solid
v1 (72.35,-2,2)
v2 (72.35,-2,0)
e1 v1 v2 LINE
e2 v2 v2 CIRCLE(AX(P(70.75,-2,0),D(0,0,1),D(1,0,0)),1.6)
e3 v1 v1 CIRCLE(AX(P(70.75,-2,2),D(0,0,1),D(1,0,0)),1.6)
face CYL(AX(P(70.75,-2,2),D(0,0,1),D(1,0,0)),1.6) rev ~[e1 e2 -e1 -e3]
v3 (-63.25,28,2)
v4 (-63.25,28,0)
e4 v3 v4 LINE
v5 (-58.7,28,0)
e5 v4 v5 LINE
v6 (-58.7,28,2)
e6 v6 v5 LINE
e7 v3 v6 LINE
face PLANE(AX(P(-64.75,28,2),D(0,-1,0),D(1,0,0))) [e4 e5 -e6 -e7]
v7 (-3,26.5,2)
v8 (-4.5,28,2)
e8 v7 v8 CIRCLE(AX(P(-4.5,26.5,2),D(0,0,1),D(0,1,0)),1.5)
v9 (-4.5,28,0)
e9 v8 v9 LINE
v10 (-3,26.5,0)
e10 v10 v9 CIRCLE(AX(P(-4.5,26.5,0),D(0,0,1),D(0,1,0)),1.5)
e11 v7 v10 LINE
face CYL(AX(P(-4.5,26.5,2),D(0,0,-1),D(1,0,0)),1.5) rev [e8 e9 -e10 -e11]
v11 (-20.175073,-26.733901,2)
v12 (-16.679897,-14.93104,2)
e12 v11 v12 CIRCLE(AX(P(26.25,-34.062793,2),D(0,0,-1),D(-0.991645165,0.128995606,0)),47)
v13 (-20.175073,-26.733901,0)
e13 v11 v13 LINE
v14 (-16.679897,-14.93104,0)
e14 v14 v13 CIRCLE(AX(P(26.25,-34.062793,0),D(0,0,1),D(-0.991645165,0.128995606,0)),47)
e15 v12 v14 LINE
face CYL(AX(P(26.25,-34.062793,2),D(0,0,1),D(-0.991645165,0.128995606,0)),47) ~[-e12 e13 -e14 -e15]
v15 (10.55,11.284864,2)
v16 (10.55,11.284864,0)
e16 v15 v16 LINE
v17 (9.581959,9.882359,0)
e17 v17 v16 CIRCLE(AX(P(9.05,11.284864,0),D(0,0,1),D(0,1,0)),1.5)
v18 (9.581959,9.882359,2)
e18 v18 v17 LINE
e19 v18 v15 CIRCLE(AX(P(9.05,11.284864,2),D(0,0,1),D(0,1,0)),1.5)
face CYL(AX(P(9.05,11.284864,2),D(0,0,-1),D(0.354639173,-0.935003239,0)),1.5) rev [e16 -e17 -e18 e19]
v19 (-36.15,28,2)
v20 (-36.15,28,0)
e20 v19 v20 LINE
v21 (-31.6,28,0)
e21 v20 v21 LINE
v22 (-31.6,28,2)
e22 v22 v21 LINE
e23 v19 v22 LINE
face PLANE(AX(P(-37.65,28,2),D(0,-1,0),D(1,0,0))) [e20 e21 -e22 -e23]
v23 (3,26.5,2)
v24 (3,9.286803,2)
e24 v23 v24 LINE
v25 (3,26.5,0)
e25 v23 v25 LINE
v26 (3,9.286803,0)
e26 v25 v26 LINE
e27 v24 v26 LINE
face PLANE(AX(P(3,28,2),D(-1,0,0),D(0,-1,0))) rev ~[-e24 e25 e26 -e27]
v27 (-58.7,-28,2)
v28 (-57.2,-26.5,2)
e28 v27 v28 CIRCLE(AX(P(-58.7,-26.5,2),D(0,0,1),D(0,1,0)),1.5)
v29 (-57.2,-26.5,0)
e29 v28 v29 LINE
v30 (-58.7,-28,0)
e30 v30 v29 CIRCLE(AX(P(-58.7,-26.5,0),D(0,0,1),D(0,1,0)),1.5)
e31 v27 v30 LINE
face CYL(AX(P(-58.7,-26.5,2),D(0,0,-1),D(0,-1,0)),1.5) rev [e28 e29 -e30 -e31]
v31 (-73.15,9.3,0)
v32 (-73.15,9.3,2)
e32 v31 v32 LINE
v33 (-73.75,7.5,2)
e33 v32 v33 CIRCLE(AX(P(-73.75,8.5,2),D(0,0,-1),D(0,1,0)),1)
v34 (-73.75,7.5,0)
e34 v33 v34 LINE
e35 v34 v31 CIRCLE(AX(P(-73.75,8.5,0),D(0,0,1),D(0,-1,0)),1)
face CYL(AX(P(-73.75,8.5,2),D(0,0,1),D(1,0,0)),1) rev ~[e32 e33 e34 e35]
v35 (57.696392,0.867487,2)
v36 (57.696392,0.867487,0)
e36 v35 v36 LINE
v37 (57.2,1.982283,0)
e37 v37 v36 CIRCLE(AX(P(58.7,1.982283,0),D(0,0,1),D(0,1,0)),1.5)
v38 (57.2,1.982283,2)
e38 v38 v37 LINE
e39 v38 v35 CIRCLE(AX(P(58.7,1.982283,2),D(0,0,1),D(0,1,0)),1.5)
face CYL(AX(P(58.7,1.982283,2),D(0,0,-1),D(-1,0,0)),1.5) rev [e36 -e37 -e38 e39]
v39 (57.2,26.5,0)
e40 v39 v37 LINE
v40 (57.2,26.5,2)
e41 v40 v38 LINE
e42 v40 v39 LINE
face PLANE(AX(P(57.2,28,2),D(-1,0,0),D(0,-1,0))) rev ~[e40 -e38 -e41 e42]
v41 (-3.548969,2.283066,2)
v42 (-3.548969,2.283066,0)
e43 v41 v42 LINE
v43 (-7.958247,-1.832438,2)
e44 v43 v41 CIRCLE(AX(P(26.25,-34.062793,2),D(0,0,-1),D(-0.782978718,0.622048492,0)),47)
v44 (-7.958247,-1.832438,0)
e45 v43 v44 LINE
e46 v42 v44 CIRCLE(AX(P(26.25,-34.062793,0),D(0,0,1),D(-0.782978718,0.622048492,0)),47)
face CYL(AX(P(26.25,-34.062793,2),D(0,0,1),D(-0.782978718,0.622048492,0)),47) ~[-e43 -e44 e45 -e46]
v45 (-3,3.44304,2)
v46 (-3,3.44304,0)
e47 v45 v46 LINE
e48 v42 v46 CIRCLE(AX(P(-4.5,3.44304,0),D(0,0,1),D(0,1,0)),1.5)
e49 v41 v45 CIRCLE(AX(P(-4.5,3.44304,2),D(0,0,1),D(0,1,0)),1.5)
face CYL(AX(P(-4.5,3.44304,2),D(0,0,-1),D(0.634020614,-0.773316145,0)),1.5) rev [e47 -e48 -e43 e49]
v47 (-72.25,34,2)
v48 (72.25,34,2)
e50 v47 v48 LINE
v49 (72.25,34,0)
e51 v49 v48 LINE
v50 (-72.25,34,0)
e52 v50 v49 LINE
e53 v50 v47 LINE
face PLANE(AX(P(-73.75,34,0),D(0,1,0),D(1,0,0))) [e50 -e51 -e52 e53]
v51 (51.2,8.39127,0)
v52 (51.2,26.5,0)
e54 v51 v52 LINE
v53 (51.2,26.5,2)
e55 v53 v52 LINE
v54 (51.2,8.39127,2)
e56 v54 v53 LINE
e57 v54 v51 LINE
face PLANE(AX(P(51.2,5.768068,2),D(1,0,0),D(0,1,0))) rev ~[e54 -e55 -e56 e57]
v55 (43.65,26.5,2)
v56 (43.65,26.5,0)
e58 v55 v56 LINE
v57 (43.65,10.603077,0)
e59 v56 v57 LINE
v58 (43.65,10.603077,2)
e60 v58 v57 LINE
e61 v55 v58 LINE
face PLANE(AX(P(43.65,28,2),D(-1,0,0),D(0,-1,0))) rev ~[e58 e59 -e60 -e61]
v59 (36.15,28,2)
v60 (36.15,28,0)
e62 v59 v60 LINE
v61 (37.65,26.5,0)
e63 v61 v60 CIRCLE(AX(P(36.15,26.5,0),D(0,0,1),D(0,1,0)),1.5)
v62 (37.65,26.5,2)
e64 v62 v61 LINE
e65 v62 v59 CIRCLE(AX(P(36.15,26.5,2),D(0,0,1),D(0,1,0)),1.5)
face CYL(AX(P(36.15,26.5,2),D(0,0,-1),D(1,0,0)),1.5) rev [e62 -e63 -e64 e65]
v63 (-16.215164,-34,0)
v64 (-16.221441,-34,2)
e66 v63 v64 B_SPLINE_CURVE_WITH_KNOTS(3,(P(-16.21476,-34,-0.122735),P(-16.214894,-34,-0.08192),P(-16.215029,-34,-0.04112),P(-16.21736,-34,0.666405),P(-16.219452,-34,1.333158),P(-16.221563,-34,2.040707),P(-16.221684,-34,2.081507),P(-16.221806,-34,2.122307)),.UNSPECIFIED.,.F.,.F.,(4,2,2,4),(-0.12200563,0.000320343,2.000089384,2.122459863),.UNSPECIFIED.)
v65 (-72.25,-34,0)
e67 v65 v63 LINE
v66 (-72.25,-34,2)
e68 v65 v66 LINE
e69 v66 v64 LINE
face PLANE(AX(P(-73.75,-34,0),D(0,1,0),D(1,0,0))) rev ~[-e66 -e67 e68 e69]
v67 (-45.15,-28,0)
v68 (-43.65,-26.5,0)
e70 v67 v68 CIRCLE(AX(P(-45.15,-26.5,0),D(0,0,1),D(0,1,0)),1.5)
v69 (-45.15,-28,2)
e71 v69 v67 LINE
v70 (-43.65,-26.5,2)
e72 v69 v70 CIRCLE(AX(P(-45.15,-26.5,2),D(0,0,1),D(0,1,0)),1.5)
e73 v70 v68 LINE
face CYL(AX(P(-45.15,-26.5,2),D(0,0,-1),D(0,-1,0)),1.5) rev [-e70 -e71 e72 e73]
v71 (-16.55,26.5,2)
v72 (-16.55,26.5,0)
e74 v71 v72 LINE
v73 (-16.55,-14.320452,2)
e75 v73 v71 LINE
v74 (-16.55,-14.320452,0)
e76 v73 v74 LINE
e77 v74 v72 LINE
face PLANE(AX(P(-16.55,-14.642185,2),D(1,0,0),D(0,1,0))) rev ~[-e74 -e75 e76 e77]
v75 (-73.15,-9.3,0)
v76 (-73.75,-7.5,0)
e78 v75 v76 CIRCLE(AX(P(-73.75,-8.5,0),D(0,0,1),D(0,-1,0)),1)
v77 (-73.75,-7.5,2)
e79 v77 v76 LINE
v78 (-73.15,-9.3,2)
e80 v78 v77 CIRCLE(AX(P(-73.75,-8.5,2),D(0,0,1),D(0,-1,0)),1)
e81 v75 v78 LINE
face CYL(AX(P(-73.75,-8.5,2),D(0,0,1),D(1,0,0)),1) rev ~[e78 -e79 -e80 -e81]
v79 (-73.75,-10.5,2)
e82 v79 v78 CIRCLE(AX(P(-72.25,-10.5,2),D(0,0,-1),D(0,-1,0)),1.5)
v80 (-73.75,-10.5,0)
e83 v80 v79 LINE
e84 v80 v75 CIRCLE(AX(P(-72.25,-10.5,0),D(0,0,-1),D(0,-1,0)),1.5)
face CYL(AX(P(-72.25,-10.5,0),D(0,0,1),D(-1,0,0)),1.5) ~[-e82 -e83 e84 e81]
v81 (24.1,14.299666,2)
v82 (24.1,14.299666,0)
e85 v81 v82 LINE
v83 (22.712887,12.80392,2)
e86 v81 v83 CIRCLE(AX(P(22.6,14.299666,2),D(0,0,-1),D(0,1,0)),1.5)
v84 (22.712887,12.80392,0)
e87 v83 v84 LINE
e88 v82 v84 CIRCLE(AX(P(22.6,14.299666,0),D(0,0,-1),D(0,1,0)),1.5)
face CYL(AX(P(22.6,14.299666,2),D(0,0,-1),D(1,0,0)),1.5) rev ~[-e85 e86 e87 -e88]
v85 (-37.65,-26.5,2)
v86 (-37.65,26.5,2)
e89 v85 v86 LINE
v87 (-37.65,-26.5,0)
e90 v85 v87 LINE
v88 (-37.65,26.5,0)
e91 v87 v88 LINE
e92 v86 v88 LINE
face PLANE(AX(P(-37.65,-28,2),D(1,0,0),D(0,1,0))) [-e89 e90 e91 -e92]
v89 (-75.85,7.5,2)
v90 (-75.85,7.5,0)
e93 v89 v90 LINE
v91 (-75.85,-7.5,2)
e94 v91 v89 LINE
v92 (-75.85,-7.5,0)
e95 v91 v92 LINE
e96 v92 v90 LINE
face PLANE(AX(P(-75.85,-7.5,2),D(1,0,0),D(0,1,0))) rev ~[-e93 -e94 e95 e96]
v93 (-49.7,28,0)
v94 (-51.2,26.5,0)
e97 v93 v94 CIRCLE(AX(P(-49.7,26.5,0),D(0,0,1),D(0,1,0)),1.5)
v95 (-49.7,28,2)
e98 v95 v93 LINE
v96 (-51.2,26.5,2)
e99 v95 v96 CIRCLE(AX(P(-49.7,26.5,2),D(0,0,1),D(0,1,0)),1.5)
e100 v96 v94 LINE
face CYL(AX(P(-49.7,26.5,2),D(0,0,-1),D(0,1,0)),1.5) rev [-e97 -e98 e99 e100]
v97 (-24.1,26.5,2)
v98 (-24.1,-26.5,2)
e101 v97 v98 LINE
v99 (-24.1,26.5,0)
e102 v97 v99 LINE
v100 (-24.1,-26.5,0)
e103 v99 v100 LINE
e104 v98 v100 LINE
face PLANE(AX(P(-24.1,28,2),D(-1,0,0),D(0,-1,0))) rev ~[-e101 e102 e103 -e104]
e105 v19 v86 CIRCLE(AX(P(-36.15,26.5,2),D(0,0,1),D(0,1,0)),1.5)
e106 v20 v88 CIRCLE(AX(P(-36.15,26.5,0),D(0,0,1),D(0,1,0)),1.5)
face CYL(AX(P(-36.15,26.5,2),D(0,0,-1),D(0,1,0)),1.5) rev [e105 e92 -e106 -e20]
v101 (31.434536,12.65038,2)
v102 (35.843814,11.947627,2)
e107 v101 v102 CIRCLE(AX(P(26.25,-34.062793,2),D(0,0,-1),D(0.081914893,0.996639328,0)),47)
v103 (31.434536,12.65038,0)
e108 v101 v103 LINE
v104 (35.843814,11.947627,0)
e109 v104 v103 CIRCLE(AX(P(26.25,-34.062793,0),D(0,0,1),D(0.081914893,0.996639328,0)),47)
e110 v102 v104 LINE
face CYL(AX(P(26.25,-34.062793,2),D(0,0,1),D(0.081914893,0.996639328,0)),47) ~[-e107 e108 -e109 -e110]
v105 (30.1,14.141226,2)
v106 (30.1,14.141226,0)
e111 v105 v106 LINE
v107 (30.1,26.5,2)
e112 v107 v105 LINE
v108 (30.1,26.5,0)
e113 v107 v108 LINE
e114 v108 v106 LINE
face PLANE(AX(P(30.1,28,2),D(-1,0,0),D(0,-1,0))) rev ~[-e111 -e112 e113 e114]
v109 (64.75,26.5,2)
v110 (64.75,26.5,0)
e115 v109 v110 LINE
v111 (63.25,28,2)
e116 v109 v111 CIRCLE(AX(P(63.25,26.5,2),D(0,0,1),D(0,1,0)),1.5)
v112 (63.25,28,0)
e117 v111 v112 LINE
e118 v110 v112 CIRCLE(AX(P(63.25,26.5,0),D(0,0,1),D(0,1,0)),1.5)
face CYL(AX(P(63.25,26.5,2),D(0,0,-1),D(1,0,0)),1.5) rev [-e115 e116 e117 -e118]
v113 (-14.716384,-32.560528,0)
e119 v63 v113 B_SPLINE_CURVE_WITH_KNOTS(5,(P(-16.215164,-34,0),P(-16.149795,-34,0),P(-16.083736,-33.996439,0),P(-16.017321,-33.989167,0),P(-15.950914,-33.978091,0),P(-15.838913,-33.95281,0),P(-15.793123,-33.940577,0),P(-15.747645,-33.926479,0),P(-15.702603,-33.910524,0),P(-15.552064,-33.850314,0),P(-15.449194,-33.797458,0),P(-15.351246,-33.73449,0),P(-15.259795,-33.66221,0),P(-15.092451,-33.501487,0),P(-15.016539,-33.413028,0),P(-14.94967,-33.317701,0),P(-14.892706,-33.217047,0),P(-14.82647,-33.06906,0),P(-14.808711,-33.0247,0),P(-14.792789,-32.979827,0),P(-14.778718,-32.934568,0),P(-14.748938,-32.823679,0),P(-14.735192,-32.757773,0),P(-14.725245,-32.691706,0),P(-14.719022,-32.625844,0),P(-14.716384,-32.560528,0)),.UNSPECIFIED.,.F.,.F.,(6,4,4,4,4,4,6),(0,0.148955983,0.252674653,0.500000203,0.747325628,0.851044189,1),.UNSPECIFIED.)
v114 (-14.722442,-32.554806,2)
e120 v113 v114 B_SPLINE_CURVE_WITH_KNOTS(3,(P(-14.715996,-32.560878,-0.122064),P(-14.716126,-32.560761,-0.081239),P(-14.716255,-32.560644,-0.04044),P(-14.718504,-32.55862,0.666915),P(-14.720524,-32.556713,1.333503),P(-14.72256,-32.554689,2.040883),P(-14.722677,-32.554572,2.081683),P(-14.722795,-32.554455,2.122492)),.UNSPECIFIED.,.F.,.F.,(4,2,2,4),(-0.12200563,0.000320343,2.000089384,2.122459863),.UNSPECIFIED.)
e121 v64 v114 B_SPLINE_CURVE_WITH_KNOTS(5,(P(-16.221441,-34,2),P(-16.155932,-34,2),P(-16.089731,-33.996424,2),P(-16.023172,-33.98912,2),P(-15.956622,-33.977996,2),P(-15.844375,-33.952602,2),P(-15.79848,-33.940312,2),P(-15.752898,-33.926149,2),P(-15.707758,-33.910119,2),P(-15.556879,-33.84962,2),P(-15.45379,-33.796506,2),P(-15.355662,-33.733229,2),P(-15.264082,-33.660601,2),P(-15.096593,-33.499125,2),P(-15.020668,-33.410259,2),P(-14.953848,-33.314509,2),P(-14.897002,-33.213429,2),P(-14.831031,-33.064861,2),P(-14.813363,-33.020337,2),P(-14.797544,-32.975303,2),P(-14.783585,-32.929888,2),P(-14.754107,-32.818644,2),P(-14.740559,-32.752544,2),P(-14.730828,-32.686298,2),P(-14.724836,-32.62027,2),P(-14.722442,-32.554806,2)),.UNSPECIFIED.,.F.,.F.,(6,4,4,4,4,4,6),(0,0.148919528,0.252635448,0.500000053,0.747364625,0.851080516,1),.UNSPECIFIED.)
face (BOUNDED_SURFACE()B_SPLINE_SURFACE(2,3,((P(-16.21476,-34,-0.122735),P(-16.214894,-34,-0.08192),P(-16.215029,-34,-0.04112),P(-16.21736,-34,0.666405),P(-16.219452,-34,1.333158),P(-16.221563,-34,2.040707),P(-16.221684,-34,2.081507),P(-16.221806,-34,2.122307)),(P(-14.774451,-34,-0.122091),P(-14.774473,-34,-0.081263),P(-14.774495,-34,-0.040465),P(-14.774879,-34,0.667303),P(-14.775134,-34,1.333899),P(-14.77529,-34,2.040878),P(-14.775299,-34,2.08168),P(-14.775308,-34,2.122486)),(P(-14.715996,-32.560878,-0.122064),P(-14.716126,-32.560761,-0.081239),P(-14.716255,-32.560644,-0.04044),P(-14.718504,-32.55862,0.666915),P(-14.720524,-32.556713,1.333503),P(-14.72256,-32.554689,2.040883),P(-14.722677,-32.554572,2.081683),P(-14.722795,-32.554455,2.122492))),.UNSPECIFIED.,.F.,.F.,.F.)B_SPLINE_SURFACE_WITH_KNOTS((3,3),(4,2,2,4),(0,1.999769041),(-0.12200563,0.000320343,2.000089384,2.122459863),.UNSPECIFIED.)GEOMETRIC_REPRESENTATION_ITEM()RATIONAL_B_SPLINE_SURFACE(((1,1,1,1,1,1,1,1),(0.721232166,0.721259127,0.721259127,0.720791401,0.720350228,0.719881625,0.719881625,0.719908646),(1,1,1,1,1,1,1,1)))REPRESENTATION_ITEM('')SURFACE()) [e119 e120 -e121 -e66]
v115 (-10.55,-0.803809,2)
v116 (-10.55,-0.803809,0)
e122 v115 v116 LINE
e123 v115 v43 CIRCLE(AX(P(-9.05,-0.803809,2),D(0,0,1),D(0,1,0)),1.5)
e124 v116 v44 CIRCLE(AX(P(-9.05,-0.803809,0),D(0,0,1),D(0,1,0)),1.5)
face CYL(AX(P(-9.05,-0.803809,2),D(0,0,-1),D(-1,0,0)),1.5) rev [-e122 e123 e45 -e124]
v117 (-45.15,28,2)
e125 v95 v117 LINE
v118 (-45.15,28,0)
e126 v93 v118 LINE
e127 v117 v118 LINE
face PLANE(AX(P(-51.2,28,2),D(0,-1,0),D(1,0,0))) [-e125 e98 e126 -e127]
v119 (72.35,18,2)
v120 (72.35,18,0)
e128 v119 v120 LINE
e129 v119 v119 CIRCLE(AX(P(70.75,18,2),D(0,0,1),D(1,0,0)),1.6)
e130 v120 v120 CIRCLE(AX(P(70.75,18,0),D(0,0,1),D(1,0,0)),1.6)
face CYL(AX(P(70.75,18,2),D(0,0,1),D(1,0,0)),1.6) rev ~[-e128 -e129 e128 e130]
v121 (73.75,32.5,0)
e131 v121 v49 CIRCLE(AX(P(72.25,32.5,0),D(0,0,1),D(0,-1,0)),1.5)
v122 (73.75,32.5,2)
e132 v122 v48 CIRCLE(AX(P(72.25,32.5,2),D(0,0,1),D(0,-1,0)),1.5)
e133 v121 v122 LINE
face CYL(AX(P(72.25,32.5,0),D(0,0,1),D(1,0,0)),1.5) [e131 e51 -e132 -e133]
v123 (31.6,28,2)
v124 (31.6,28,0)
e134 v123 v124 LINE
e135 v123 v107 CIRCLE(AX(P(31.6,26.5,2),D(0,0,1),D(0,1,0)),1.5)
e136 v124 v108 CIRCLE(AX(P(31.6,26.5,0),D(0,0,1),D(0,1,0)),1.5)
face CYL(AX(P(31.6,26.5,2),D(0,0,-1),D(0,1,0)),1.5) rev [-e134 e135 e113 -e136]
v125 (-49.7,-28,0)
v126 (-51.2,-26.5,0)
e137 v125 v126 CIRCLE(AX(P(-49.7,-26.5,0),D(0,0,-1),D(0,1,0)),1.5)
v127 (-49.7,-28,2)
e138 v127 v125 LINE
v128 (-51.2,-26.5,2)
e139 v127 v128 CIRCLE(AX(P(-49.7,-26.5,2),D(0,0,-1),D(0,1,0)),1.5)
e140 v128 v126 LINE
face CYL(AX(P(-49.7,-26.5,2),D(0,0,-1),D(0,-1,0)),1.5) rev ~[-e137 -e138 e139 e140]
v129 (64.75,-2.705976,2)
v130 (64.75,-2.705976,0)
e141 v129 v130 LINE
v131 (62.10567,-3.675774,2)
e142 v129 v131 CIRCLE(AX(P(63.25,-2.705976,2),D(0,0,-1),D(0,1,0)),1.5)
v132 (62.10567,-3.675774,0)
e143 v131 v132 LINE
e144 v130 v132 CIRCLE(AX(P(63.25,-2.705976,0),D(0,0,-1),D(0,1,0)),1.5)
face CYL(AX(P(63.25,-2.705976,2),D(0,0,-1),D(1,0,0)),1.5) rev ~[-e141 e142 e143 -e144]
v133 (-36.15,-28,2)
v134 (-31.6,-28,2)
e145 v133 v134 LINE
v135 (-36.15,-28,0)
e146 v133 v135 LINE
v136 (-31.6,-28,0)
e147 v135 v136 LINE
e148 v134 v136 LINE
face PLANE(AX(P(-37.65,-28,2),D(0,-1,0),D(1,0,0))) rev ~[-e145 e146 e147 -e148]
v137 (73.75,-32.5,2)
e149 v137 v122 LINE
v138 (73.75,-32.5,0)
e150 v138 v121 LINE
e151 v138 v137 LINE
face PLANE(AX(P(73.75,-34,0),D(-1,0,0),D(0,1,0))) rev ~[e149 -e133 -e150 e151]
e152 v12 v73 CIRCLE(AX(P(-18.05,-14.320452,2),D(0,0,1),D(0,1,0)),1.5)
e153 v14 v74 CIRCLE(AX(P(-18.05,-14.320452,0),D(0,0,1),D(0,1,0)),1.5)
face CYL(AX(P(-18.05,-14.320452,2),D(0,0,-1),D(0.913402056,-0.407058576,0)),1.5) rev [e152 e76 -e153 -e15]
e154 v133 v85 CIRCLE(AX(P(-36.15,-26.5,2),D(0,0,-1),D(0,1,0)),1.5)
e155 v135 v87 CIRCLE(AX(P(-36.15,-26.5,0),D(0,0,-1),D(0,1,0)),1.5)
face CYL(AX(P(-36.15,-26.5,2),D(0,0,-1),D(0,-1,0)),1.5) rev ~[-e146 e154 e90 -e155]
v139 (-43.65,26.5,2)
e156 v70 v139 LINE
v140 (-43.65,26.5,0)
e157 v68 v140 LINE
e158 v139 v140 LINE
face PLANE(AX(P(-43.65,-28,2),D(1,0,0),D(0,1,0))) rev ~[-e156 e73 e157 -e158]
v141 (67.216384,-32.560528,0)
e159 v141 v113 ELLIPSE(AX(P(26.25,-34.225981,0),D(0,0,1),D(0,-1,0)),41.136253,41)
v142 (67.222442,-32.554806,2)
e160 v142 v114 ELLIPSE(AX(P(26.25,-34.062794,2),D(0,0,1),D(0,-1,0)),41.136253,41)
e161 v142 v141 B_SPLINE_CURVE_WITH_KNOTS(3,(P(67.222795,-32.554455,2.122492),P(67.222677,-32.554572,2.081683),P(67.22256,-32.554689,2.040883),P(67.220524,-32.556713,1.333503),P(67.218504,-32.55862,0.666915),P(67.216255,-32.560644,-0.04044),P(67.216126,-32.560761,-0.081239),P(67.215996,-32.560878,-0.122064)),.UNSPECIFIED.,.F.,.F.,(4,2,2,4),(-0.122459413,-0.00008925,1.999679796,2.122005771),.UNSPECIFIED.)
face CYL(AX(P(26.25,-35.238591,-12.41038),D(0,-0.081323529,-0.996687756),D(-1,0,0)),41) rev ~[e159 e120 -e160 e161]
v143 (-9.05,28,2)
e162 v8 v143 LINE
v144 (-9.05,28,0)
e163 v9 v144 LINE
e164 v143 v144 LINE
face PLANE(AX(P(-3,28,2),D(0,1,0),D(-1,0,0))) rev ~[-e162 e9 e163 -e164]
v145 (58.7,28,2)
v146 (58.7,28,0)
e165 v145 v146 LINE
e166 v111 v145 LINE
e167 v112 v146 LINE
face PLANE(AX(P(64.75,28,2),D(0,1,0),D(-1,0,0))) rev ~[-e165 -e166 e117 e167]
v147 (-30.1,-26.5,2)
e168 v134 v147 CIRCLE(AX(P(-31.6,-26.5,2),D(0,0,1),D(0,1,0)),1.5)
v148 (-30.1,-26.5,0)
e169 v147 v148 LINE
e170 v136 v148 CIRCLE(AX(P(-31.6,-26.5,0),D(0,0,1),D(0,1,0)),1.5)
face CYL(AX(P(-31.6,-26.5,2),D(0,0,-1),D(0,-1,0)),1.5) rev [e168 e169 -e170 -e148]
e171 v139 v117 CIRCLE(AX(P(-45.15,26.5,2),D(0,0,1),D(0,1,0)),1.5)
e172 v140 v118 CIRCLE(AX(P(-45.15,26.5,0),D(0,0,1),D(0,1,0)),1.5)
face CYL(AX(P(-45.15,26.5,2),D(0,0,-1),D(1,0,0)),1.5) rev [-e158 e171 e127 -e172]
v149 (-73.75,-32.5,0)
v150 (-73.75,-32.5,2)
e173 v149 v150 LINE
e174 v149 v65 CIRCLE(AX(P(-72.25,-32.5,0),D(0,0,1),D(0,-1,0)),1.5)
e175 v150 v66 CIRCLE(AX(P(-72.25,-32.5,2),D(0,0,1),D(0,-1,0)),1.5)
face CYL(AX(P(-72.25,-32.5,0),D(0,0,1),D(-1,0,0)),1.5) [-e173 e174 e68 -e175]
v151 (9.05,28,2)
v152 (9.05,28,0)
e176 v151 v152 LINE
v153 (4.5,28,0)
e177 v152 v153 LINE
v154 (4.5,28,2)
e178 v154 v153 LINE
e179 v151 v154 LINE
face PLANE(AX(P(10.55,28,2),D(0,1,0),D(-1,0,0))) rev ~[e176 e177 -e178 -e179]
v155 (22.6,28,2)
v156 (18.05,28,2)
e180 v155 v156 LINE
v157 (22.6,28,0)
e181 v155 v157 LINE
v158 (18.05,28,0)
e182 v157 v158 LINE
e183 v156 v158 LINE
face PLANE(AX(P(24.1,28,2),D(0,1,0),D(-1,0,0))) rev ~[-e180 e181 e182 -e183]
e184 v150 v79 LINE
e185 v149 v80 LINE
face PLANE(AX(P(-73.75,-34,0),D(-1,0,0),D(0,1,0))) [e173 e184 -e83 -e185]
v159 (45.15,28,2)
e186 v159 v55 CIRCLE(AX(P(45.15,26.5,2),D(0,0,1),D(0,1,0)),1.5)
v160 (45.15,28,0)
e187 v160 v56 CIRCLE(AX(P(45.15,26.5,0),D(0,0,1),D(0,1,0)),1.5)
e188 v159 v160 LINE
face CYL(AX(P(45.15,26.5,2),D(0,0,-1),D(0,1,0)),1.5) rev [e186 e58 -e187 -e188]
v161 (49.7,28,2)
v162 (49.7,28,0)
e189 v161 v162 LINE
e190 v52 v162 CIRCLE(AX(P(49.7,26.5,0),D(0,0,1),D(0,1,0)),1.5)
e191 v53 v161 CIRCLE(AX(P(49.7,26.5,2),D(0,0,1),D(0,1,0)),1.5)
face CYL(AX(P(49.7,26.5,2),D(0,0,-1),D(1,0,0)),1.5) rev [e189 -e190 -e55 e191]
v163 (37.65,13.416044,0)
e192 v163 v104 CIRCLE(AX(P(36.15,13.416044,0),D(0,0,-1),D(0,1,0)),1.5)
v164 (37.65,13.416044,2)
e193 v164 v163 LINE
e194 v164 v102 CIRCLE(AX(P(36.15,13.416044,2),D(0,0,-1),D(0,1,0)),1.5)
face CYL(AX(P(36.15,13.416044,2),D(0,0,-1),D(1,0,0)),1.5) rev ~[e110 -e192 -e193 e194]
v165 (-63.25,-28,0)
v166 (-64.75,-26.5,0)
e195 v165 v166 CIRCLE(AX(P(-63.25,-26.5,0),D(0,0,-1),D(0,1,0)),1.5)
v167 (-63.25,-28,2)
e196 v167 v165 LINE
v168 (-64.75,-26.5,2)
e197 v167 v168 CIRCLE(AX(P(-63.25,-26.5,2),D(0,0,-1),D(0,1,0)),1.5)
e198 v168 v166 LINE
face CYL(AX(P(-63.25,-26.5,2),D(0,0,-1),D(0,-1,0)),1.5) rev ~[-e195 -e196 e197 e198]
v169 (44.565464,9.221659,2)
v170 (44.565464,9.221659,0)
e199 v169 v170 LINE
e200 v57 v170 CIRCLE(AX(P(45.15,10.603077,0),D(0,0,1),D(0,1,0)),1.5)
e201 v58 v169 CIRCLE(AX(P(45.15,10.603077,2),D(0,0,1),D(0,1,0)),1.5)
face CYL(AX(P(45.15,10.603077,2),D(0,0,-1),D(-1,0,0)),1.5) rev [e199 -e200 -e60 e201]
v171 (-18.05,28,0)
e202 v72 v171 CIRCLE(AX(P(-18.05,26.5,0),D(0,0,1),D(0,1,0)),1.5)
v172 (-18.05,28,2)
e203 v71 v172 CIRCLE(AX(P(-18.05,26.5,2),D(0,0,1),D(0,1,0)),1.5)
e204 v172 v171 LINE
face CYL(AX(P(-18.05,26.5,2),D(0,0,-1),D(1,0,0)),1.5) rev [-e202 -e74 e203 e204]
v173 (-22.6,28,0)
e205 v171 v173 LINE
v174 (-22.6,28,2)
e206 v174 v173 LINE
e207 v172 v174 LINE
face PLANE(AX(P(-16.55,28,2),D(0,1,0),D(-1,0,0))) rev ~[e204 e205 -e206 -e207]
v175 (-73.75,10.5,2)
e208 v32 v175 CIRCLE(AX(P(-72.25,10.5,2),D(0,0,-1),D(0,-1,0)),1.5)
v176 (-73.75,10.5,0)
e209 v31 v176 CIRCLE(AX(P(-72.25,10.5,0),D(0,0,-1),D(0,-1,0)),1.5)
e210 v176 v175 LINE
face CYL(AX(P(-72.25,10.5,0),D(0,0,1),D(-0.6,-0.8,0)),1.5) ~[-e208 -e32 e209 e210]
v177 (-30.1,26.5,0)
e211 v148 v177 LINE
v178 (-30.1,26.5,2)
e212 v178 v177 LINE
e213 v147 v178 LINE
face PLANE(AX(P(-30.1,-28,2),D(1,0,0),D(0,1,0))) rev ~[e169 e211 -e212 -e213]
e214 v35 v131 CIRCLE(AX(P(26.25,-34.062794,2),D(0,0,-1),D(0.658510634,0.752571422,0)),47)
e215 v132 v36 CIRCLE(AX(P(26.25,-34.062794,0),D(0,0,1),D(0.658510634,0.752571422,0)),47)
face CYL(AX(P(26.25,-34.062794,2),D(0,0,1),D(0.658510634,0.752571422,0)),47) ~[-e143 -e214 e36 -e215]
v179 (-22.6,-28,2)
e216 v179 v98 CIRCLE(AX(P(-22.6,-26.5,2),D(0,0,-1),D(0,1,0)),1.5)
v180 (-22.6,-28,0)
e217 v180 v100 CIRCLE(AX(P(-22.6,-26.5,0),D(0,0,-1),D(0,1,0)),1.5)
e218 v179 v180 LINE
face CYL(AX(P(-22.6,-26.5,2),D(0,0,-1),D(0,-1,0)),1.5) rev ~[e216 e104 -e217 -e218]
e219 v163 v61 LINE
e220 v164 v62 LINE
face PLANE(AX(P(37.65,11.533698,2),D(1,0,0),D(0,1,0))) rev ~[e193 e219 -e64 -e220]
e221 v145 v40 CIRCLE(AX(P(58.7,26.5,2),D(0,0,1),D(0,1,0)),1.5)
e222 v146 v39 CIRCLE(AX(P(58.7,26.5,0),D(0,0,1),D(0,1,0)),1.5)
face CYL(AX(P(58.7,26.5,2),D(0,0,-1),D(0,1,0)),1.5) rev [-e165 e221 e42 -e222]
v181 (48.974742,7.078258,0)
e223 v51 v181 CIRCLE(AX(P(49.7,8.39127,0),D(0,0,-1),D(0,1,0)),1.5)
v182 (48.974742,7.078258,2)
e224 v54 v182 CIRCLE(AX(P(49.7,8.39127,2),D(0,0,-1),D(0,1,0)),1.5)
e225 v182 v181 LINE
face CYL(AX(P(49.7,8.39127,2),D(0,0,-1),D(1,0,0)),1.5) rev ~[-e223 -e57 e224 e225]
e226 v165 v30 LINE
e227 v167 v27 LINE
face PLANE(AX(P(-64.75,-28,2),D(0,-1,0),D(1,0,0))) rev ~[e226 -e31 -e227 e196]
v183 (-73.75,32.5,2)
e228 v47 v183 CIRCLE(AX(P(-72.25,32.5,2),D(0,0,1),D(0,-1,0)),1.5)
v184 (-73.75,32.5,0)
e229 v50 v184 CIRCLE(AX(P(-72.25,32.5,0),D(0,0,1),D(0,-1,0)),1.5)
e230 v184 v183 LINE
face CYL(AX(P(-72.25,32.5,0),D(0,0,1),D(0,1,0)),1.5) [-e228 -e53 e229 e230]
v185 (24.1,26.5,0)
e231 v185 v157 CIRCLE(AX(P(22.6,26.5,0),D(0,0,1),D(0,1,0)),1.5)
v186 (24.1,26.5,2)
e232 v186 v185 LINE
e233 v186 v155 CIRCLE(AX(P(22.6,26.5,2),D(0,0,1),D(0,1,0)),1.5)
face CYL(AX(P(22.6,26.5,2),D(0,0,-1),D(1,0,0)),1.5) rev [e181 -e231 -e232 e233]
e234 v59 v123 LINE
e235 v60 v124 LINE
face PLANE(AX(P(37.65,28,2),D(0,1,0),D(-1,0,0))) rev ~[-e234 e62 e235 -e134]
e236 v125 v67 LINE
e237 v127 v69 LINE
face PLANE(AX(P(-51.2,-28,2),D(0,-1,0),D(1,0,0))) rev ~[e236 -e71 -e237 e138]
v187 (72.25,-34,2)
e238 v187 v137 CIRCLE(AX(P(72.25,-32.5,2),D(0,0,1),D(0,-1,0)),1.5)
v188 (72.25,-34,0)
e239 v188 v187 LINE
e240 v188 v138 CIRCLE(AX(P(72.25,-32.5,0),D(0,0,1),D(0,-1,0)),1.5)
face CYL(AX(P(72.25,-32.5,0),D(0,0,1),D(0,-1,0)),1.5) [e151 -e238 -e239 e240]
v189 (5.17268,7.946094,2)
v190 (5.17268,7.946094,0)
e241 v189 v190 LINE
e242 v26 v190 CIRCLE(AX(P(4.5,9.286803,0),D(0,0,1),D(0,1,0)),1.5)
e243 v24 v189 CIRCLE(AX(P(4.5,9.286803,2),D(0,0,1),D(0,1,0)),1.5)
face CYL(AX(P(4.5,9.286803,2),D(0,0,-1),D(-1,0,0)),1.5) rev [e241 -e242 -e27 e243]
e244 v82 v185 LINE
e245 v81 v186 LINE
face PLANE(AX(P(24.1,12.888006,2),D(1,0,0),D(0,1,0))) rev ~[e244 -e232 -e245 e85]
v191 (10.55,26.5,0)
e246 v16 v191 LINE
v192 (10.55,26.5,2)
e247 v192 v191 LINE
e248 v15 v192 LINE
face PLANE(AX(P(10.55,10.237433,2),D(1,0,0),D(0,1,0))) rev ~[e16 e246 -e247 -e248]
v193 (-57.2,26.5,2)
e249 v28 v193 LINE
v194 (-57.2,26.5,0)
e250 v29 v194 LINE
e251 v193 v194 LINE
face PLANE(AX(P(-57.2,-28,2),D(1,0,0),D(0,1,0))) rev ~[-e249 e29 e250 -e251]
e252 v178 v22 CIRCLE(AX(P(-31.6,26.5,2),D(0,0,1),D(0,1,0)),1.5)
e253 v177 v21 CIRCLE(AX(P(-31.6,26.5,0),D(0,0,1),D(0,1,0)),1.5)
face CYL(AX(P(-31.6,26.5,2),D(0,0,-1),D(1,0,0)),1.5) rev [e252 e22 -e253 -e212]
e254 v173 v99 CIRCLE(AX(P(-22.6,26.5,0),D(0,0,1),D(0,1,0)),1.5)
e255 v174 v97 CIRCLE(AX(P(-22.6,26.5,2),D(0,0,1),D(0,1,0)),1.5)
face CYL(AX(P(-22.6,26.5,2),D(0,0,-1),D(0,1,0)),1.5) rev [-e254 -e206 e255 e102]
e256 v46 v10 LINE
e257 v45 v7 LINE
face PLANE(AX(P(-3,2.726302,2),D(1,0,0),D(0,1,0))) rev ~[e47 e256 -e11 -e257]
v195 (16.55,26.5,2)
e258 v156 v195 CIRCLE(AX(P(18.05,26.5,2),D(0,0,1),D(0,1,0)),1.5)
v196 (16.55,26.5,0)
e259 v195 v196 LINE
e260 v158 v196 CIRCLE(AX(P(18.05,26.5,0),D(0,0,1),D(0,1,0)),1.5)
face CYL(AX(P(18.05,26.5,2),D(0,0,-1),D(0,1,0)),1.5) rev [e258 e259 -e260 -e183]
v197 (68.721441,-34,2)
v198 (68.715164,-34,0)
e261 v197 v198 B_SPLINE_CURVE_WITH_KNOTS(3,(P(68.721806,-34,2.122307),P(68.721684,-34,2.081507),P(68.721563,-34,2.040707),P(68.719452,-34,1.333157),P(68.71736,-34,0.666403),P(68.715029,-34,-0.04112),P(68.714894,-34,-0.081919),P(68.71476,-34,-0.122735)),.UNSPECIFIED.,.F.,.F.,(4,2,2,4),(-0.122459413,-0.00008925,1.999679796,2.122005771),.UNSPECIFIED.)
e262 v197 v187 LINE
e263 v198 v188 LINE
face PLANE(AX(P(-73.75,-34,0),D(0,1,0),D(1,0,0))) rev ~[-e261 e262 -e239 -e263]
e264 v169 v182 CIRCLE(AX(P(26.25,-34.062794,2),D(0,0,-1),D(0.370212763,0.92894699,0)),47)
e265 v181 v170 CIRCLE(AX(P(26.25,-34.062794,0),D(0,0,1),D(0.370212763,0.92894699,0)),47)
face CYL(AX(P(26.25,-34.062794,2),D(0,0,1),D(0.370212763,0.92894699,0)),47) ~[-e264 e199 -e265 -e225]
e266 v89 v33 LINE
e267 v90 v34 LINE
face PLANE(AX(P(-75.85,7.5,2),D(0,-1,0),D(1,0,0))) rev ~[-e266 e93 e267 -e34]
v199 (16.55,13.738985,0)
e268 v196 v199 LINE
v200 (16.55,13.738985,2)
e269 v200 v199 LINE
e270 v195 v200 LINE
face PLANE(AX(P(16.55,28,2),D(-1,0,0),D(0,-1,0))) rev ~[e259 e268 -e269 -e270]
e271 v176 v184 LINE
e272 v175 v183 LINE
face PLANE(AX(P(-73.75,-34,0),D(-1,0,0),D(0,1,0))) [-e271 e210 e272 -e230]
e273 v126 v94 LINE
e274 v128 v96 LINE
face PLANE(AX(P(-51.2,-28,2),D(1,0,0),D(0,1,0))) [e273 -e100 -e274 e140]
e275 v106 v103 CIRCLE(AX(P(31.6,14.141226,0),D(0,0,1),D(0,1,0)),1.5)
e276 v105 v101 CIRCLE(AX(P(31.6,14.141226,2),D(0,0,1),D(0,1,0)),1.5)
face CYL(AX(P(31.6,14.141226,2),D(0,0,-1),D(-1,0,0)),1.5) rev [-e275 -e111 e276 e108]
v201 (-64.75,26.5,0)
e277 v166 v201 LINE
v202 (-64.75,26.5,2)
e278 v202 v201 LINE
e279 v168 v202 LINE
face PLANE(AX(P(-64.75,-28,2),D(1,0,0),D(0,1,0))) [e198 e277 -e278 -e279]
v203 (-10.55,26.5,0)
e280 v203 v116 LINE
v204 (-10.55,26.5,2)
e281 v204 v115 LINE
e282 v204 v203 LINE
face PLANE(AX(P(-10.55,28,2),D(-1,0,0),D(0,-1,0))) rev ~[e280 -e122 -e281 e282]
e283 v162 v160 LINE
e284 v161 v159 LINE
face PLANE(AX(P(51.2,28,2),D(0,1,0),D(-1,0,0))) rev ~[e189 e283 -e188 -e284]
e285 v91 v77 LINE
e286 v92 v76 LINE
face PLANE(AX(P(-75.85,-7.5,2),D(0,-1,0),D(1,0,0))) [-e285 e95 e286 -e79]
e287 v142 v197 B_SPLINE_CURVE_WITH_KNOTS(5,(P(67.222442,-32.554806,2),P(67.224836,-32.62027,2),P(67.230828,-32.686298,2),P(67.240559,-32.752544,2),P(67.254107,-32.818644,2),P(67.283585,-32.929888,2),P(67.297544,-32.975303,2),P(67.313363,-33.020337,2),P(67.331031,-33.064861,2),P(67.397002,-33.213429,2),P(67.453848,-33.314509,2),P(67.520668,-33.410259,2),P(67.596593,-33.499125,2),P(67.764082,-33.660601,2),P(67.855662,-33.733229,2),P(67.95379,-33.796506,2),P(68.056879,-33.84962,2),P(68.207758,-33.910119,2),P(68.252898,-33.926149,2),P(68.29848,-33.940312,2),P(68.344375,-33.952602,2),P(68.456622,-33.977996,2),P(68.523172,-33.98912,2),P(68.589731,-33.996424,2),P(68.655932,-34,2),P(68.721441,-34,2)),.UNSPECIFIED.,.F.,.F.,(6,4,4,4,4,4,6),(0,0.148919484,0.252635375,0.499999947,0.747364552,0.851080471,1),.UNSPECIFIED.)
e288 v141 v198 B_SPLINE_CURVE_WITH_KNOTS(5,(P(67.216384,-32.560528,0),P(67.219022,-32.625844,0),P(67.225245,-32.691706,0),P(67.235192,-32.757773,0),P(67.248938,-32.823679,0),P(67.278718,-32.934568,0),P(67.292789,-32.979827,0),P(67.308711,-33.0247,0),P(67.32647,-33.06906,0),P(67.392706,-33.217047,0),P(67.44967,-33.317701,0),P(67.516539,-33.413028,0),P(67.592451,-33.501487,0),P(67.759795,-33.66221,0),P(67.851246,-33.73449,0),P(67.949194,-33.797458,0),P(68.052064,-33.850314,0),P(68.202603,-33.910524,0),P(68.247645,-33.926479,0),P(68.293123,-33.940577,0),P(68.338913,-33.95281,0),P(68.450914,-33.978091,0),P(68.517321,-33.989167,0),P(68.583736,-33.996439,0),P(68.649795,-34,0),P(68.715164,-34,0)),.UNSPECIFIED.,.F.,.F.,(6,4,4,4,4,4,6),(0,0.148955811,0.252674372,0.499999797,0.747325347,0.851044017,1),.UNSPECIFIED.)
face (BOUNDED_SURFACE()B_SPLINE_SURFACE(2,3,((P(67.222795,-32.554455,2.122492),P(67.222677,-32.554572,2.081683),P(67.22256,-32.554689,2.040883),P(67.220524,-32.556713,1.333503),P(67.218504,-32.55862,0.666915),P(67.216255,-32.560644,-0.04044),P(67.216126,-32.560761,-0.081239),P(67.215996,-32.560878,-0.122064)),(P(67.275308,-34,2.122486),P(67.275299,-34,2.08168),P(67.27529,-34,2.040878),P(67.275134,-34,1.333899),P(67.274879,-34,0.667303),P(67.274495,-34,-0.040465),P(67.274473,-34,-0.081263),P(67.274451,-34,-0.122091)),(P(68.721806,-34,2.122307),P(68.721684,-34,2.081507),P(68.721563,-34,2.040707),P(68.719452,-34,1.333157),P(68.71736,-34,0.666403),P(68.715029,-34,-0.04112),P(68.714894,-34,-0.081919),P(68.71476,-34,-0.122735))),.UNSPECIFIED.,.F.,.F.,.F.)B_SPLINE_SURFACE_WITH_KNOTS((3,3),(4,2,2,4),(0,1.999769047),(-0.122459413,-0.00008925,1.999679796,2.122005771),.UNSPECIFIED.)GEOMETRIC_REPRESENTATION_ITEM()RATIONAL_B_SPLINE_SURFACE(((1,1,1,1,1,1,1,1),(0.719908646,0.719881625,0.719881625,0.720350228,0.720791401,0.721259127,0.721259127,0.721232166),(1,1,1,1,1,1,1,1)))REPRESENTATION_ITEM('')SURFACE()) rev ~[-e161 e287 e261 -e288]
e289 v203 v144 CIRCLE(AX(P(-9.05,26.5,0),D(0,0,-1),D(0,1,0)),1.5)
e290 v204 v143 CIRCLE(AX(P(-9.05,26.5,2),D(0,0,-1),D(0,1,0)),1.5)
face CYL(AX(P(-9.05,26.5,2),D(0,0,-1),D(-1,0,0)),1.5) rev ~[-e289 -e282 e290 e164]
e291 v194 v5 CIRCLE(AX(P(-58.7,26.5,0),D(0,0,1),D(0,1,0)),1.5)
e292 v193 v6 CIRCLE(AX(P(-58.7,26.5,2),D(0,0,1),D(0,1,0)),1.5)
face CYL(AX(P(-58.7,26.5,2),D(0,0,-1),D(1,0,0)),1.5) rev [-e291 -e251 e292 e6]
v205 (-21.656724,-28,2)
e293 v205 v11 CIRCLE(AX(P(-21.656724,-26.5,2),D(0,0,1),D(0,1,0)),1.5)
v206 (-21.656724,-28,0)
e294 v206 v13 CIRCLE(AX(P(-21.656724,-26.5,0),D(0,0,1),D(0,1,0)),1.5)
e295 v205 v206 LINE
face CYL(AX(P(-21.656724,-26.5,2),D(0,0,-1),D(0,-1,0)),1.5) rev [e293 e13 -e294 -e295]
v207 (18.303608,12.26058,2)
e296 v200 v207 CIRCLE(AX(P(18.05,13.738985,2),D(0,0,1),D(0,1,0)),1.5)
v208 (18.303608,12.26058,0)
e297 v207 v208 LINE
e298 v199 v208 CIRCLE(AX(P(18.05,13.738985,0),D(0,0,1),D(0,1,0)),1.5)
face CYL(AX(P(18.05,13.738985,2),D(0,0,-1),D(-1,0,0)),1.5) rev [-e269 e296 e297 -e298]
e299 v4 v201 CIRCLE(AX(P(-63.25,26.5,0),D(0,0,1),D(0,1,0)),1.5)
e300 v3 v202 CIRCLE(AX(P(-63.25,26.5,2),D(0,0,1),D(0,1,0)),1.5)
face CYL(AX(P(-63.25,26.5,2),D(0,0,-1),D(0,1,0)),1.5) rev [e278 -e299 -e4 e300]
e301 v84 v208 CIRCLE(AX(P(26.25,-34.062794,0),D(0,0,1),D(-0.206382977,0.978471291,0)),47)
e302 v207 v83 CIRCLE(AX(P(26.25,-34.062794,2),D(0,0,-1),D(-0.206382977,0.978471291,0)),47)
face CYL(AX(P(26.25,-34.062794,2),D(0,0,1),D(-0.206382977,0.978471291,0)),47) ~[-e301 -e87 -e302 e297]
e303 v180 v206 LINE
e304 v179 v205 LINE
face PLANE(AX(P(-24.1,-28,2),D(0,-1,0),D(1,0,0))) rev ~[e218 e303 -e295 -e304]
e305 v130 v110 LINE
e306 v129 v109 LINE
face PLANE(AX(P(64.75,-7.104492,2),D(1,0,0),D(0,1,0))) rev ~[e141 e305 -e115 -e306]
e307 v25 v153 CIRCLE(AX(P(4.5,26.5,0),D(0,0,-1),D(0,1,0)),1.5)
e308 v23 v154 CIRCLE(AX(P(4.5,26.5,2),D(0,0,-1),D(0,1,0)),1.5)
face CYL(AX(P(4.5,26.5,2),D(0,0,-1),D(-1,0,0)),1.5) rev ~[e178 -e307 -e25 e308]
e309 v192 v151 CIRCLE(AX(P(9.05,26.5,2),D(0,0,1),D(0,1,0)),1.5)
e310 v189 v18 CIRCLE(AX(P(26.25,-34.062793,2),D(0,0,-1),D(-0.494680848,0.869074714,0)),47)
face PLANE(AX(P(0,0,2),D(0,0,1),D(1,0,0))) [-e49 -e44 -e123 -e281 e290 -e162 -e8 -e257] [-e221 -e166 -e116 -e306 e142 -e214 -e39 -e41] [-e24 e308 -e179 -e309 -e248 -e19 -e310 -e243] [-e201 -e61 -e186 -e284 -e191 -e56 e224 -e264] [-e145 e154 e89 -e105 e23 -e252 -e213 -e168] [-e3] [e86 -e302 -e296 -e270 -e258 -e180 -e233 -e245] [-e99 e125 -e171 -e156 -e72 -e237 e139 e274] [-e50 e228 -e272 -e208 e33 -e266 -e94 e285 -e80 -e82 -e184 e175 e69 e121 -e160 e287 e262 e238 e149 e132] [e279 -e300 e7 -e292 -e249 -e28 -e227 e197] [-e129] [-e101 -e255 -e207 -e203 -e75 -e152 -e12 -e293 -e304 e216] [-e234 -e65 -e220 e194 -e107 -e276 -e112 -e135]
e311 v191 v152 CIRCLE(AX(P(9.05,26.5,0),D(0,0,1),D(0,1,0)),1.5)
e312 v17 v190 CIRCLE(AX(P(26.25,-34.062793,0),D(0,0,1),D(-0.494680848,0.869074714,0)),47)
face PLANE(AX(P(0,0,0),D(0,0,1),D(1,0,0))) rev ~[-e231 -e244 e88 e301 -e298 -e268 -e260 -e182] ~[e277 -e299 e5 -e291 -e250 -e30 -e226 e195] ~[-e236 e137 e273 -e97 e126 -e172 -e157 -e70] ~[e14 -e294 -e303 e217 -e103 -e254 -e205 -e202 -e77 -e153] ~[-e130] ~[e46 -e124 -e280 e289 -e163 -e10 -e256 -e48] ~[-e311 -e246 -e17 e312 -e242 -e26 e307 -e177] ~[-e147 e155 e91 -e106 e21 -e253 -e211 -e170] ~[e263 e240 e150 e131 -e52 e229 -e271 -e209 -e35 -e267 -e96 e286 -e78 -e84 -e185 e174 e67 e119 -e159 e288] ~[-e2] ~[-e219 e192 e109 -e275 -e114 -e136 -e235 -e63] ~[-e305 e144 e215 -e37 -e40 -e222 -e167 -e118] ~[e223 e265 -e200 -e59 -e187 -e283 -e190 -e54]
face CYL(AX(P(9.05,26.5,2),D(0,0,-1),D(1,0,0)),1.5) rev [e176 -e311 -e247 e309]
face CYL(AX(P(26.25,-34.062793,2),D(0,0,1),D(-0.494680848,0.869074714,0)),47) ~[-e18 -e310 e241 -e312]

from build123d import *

# Parameters (mm, degrees)
SKETCH_1_W          = 147.5
SKETCH_1_H          = 68
EXTRUDE_1_DEPTH     = 2
SKETCH_2_W          = 2.1
SKETCH_2_H          = 15
EXTRUDE_2_DEPTH     = 2
SKETCH_3_R          = 1
CUT_EXTRUDE_1_DEPTH = 10
SKETCH_4_R          = 41
CUT_EXTRUDE_2_DEPTH = 86.383343966
SKETCH_5_W          = 7.55
SKETCH_5_H          = 56
CUT_EXTRUDE_3_DEPTH = 10
FILLET_1_R          = 1.5
SKETCH_6_R          = 1.6
CUT_EXTRUDE_4_DEPTH = 84.145790768


with BuildPart() as part:
    # 草图1 → 凸台-拉伸1 (new body)
    with BuildSketch(Plane.XY):
        Rectangle(SKETCH_1_W, SKETCH_1_H)
    extrude(amount=EXTRUDE_1_DEPTH)

    # 草图2 → 凸台-拉伸2 (add)
    with BuildSketch(Plane.XY.offset(2)):
        with Locations((-74.8, 0)):
            Rectangle(SKETCH_2_W, SKETCH_2_H)
    extrude(amount=-EXTRUDE_2_DEPTH)

    # 草图3 → 切除-拉伸1 (cut)
    with BuildSketch(Plane.XY.offset(2)):
        with Locations((-73.75, 8.5)):
            Circle(SKETCH_3_R)
        with Locations((-73.75, -8.5)):
            Circle(SKETCH_3_R)
    extrude(amount=-CUT_EXTRUDE_1_DEPTH, mode=Mode.SUBTRACT)

    # 草图4 → 切除-拉伸2 (cut, through all)
    with BuildSketch(Plane(origin=(0, -1.238963971, -15.184537967), x_dir=(-1, 0, 0), z_dir=(0, -0.08132352941176414, -0.9966877563028524))):
        with Locations((-26.25, -34.112616286)):
            Circle(SKETCH_4_R)
    extrude(amount=-CUT_EXTRUDE_2_DEPTH, mode=Mode.SUBTRACT)

    # 草图5 → 切除-拉伸3 (cut)
    with BuildSketch(Plane.XY.offset(2)):
        with BuildLine():
            ThreePointArc((57.2, 1.30806357), (61.228827839, -2.670411735), (64.75, -7.104491812))
            Line((64.75, -7.104491812), (64.75, 28))
            Line((64.75, 28), (57.2, 28))
            Line((57.2, 28), (57.2, 1.30806357))
        make_face()
        with BuildLine():
            ThreePointArc((43.65, 9.597715314), (47.51140105, 7.853227963), (51.2, 5.768068026))
            Line((51.2, 5.768068026), (51.2, 28))
            Line((51.2, 28), (43.65, 28))
            Line((43.65, 28), (43.65, 9.597715314))
        make_face()
        with BuildLine():
            ThreePointArc((30.1, 12.779255237), (33.900390726, 12.310383571), (37.65, 11.533697921))
            Line((37.65, 11.533697921), (37.65, 28))
            Line((37.65, 28), (30.1, 28))
            Line((30.1, 28), (30.1, 12.779255237))
        make_face()
        with BuildLine():
            ThreePointArc((16.55, 11.925357473), (20.3054817, 12.559762544), (24.1, 12.888005534))
            Line((24.1, 12.888005534), (24.1, 28))
            Line((24.1, 28), (16.55, 28))
            Line((16.55, 28), (16.55, 11.925357473))
        make_face()
        with BuildLine():
            Line((3, 28), (3, 6.783718345))
            ThreePointArc((3, 6.783718345), (6.698589297, 8.677613253), (10.55, 10.23743257))
            Line((10.55, 10.23743257), (10.55, 28))
            Line((10.55, 28), (3, 28))
        make_face()
        with BuildLine():
            Line((-10.55, 28), (-10.55, -4.826514156))
            ThreePointArc((-10.55, -4.826514156), (-6.990214832, -0.834971606), (-3, 2.726301758))
            Line((-3, 2.726301758), (-3, 28))
            Line((-3, 28), (-10.55, 28))
        make_face()
        with BuildLine():
            Line((-24.1, -28), (-20.357323082, -28))
            ThreePointArc((-20.357323082, -28), (-18.949835838, -21.179670039), (-16.55, -14.642185119))
            Line((-16.55, -14.642185119), (-16.55, 28))
            Line((-16.55, 28), (-24.1, 28))
            Line((-24.1, 28), (-24.1, -28))
        make_face()
        with Locations((-33.875, 0)):
            Rectangle(SKETCH_5_W, SKETCH_5_H)
        with Locations((-47.425, 0)):
            Rectangle(SKETCH_5_W, SKETCH_5_H)
        with Locations((-60.975, 0)):
            Rectangle(SKETCH_5_W, SKETCH_5_H)
    extrude(amount=-CUT_EXTRUDE_3_DEPTH, mode=Mode.SUBTRACT)

    # 圆角1
    fillet_1_edges = [part.edges().sort_by_distance(p)[0] for p in [
        (-14.749747441, -34, 0.999999977),
        (67.249747441, -34, 0.999999977),
        (-73.75, -34, 1),
        (-73.75, -9.5, 1),
        (-73.75, 9.5, 1),
        (-73.75, 34, 1),
        (73.75, 34, 1),
        (73.75, -34, 1),
        (57.2, 1.30806357, 1),
        (57.2, 28, 1),
        (64.75, 28, 1),
        (30.1, 12.779255237, 1),
        (30.1, 28, 1),
        (37.65, 28, 1),
        (37.65, 11.533697921, 1),
        (3, 6.783718345, 1),
        (3, 28, 1),
        (10.55, 28, 1),
        (10.55, 10.23743257, 1),
        (-20.357323082, -28, 1),
        (-24.1, -28, 1),
        (-24.1, 28, 1),
        (-16.55, 28, 1),
        (-16.55, -14.642185119, 1),
        (-51.2, -28, 1),
        (-51.2, 28, 1),
        (-43.65, 28, 1),
        (-43.65, -28, 1),
        (-64.75, 28, 1),
        (-57.2, 28, 1),
        (-57.2, -28, 1),
        (-64.75, -28, 1),
        (-37.65, -28, 1),
        (-37.65, 28, 1),
        (-30.1, 28, 1),
        (-30.1, -28, 1),
        (-10.55, -4.826514156, 1),
        (-10.55, 28, 1),
        (-3, 28, 1),
        (-3, 2.726301758, 1),
        (16.55, 11.925357473, 1),
        (16.55, 28, 1),
        (24.1, 28, 1),
        (24.1, 12.888005534, 1),
        (43.65, 9.597715314, 1),
        (43.65, 28, 1),
        (51.2, 28, 1),
        (51.2, 5.768068026, 1),
        (64.75, -7.104491812, 1),
    ]]
    fillet(fillet_1_edges, radius=FILLET_1_R)

    # 草图6 → 切除-拉伸4 (cut, through all)
    with BuildSketch(Plane.XY.offset(2)):
        with Locations((70.75, -2)):
            Circle(SKETCH_6_R)
        with Locations((70.75, 18)):
            Circle(SKETCH_6_R)
    extrude(amount=-CUT_EXTRUDE_4_DEPTH, mode=Mode.SUBTRACT)


solid = part.part
